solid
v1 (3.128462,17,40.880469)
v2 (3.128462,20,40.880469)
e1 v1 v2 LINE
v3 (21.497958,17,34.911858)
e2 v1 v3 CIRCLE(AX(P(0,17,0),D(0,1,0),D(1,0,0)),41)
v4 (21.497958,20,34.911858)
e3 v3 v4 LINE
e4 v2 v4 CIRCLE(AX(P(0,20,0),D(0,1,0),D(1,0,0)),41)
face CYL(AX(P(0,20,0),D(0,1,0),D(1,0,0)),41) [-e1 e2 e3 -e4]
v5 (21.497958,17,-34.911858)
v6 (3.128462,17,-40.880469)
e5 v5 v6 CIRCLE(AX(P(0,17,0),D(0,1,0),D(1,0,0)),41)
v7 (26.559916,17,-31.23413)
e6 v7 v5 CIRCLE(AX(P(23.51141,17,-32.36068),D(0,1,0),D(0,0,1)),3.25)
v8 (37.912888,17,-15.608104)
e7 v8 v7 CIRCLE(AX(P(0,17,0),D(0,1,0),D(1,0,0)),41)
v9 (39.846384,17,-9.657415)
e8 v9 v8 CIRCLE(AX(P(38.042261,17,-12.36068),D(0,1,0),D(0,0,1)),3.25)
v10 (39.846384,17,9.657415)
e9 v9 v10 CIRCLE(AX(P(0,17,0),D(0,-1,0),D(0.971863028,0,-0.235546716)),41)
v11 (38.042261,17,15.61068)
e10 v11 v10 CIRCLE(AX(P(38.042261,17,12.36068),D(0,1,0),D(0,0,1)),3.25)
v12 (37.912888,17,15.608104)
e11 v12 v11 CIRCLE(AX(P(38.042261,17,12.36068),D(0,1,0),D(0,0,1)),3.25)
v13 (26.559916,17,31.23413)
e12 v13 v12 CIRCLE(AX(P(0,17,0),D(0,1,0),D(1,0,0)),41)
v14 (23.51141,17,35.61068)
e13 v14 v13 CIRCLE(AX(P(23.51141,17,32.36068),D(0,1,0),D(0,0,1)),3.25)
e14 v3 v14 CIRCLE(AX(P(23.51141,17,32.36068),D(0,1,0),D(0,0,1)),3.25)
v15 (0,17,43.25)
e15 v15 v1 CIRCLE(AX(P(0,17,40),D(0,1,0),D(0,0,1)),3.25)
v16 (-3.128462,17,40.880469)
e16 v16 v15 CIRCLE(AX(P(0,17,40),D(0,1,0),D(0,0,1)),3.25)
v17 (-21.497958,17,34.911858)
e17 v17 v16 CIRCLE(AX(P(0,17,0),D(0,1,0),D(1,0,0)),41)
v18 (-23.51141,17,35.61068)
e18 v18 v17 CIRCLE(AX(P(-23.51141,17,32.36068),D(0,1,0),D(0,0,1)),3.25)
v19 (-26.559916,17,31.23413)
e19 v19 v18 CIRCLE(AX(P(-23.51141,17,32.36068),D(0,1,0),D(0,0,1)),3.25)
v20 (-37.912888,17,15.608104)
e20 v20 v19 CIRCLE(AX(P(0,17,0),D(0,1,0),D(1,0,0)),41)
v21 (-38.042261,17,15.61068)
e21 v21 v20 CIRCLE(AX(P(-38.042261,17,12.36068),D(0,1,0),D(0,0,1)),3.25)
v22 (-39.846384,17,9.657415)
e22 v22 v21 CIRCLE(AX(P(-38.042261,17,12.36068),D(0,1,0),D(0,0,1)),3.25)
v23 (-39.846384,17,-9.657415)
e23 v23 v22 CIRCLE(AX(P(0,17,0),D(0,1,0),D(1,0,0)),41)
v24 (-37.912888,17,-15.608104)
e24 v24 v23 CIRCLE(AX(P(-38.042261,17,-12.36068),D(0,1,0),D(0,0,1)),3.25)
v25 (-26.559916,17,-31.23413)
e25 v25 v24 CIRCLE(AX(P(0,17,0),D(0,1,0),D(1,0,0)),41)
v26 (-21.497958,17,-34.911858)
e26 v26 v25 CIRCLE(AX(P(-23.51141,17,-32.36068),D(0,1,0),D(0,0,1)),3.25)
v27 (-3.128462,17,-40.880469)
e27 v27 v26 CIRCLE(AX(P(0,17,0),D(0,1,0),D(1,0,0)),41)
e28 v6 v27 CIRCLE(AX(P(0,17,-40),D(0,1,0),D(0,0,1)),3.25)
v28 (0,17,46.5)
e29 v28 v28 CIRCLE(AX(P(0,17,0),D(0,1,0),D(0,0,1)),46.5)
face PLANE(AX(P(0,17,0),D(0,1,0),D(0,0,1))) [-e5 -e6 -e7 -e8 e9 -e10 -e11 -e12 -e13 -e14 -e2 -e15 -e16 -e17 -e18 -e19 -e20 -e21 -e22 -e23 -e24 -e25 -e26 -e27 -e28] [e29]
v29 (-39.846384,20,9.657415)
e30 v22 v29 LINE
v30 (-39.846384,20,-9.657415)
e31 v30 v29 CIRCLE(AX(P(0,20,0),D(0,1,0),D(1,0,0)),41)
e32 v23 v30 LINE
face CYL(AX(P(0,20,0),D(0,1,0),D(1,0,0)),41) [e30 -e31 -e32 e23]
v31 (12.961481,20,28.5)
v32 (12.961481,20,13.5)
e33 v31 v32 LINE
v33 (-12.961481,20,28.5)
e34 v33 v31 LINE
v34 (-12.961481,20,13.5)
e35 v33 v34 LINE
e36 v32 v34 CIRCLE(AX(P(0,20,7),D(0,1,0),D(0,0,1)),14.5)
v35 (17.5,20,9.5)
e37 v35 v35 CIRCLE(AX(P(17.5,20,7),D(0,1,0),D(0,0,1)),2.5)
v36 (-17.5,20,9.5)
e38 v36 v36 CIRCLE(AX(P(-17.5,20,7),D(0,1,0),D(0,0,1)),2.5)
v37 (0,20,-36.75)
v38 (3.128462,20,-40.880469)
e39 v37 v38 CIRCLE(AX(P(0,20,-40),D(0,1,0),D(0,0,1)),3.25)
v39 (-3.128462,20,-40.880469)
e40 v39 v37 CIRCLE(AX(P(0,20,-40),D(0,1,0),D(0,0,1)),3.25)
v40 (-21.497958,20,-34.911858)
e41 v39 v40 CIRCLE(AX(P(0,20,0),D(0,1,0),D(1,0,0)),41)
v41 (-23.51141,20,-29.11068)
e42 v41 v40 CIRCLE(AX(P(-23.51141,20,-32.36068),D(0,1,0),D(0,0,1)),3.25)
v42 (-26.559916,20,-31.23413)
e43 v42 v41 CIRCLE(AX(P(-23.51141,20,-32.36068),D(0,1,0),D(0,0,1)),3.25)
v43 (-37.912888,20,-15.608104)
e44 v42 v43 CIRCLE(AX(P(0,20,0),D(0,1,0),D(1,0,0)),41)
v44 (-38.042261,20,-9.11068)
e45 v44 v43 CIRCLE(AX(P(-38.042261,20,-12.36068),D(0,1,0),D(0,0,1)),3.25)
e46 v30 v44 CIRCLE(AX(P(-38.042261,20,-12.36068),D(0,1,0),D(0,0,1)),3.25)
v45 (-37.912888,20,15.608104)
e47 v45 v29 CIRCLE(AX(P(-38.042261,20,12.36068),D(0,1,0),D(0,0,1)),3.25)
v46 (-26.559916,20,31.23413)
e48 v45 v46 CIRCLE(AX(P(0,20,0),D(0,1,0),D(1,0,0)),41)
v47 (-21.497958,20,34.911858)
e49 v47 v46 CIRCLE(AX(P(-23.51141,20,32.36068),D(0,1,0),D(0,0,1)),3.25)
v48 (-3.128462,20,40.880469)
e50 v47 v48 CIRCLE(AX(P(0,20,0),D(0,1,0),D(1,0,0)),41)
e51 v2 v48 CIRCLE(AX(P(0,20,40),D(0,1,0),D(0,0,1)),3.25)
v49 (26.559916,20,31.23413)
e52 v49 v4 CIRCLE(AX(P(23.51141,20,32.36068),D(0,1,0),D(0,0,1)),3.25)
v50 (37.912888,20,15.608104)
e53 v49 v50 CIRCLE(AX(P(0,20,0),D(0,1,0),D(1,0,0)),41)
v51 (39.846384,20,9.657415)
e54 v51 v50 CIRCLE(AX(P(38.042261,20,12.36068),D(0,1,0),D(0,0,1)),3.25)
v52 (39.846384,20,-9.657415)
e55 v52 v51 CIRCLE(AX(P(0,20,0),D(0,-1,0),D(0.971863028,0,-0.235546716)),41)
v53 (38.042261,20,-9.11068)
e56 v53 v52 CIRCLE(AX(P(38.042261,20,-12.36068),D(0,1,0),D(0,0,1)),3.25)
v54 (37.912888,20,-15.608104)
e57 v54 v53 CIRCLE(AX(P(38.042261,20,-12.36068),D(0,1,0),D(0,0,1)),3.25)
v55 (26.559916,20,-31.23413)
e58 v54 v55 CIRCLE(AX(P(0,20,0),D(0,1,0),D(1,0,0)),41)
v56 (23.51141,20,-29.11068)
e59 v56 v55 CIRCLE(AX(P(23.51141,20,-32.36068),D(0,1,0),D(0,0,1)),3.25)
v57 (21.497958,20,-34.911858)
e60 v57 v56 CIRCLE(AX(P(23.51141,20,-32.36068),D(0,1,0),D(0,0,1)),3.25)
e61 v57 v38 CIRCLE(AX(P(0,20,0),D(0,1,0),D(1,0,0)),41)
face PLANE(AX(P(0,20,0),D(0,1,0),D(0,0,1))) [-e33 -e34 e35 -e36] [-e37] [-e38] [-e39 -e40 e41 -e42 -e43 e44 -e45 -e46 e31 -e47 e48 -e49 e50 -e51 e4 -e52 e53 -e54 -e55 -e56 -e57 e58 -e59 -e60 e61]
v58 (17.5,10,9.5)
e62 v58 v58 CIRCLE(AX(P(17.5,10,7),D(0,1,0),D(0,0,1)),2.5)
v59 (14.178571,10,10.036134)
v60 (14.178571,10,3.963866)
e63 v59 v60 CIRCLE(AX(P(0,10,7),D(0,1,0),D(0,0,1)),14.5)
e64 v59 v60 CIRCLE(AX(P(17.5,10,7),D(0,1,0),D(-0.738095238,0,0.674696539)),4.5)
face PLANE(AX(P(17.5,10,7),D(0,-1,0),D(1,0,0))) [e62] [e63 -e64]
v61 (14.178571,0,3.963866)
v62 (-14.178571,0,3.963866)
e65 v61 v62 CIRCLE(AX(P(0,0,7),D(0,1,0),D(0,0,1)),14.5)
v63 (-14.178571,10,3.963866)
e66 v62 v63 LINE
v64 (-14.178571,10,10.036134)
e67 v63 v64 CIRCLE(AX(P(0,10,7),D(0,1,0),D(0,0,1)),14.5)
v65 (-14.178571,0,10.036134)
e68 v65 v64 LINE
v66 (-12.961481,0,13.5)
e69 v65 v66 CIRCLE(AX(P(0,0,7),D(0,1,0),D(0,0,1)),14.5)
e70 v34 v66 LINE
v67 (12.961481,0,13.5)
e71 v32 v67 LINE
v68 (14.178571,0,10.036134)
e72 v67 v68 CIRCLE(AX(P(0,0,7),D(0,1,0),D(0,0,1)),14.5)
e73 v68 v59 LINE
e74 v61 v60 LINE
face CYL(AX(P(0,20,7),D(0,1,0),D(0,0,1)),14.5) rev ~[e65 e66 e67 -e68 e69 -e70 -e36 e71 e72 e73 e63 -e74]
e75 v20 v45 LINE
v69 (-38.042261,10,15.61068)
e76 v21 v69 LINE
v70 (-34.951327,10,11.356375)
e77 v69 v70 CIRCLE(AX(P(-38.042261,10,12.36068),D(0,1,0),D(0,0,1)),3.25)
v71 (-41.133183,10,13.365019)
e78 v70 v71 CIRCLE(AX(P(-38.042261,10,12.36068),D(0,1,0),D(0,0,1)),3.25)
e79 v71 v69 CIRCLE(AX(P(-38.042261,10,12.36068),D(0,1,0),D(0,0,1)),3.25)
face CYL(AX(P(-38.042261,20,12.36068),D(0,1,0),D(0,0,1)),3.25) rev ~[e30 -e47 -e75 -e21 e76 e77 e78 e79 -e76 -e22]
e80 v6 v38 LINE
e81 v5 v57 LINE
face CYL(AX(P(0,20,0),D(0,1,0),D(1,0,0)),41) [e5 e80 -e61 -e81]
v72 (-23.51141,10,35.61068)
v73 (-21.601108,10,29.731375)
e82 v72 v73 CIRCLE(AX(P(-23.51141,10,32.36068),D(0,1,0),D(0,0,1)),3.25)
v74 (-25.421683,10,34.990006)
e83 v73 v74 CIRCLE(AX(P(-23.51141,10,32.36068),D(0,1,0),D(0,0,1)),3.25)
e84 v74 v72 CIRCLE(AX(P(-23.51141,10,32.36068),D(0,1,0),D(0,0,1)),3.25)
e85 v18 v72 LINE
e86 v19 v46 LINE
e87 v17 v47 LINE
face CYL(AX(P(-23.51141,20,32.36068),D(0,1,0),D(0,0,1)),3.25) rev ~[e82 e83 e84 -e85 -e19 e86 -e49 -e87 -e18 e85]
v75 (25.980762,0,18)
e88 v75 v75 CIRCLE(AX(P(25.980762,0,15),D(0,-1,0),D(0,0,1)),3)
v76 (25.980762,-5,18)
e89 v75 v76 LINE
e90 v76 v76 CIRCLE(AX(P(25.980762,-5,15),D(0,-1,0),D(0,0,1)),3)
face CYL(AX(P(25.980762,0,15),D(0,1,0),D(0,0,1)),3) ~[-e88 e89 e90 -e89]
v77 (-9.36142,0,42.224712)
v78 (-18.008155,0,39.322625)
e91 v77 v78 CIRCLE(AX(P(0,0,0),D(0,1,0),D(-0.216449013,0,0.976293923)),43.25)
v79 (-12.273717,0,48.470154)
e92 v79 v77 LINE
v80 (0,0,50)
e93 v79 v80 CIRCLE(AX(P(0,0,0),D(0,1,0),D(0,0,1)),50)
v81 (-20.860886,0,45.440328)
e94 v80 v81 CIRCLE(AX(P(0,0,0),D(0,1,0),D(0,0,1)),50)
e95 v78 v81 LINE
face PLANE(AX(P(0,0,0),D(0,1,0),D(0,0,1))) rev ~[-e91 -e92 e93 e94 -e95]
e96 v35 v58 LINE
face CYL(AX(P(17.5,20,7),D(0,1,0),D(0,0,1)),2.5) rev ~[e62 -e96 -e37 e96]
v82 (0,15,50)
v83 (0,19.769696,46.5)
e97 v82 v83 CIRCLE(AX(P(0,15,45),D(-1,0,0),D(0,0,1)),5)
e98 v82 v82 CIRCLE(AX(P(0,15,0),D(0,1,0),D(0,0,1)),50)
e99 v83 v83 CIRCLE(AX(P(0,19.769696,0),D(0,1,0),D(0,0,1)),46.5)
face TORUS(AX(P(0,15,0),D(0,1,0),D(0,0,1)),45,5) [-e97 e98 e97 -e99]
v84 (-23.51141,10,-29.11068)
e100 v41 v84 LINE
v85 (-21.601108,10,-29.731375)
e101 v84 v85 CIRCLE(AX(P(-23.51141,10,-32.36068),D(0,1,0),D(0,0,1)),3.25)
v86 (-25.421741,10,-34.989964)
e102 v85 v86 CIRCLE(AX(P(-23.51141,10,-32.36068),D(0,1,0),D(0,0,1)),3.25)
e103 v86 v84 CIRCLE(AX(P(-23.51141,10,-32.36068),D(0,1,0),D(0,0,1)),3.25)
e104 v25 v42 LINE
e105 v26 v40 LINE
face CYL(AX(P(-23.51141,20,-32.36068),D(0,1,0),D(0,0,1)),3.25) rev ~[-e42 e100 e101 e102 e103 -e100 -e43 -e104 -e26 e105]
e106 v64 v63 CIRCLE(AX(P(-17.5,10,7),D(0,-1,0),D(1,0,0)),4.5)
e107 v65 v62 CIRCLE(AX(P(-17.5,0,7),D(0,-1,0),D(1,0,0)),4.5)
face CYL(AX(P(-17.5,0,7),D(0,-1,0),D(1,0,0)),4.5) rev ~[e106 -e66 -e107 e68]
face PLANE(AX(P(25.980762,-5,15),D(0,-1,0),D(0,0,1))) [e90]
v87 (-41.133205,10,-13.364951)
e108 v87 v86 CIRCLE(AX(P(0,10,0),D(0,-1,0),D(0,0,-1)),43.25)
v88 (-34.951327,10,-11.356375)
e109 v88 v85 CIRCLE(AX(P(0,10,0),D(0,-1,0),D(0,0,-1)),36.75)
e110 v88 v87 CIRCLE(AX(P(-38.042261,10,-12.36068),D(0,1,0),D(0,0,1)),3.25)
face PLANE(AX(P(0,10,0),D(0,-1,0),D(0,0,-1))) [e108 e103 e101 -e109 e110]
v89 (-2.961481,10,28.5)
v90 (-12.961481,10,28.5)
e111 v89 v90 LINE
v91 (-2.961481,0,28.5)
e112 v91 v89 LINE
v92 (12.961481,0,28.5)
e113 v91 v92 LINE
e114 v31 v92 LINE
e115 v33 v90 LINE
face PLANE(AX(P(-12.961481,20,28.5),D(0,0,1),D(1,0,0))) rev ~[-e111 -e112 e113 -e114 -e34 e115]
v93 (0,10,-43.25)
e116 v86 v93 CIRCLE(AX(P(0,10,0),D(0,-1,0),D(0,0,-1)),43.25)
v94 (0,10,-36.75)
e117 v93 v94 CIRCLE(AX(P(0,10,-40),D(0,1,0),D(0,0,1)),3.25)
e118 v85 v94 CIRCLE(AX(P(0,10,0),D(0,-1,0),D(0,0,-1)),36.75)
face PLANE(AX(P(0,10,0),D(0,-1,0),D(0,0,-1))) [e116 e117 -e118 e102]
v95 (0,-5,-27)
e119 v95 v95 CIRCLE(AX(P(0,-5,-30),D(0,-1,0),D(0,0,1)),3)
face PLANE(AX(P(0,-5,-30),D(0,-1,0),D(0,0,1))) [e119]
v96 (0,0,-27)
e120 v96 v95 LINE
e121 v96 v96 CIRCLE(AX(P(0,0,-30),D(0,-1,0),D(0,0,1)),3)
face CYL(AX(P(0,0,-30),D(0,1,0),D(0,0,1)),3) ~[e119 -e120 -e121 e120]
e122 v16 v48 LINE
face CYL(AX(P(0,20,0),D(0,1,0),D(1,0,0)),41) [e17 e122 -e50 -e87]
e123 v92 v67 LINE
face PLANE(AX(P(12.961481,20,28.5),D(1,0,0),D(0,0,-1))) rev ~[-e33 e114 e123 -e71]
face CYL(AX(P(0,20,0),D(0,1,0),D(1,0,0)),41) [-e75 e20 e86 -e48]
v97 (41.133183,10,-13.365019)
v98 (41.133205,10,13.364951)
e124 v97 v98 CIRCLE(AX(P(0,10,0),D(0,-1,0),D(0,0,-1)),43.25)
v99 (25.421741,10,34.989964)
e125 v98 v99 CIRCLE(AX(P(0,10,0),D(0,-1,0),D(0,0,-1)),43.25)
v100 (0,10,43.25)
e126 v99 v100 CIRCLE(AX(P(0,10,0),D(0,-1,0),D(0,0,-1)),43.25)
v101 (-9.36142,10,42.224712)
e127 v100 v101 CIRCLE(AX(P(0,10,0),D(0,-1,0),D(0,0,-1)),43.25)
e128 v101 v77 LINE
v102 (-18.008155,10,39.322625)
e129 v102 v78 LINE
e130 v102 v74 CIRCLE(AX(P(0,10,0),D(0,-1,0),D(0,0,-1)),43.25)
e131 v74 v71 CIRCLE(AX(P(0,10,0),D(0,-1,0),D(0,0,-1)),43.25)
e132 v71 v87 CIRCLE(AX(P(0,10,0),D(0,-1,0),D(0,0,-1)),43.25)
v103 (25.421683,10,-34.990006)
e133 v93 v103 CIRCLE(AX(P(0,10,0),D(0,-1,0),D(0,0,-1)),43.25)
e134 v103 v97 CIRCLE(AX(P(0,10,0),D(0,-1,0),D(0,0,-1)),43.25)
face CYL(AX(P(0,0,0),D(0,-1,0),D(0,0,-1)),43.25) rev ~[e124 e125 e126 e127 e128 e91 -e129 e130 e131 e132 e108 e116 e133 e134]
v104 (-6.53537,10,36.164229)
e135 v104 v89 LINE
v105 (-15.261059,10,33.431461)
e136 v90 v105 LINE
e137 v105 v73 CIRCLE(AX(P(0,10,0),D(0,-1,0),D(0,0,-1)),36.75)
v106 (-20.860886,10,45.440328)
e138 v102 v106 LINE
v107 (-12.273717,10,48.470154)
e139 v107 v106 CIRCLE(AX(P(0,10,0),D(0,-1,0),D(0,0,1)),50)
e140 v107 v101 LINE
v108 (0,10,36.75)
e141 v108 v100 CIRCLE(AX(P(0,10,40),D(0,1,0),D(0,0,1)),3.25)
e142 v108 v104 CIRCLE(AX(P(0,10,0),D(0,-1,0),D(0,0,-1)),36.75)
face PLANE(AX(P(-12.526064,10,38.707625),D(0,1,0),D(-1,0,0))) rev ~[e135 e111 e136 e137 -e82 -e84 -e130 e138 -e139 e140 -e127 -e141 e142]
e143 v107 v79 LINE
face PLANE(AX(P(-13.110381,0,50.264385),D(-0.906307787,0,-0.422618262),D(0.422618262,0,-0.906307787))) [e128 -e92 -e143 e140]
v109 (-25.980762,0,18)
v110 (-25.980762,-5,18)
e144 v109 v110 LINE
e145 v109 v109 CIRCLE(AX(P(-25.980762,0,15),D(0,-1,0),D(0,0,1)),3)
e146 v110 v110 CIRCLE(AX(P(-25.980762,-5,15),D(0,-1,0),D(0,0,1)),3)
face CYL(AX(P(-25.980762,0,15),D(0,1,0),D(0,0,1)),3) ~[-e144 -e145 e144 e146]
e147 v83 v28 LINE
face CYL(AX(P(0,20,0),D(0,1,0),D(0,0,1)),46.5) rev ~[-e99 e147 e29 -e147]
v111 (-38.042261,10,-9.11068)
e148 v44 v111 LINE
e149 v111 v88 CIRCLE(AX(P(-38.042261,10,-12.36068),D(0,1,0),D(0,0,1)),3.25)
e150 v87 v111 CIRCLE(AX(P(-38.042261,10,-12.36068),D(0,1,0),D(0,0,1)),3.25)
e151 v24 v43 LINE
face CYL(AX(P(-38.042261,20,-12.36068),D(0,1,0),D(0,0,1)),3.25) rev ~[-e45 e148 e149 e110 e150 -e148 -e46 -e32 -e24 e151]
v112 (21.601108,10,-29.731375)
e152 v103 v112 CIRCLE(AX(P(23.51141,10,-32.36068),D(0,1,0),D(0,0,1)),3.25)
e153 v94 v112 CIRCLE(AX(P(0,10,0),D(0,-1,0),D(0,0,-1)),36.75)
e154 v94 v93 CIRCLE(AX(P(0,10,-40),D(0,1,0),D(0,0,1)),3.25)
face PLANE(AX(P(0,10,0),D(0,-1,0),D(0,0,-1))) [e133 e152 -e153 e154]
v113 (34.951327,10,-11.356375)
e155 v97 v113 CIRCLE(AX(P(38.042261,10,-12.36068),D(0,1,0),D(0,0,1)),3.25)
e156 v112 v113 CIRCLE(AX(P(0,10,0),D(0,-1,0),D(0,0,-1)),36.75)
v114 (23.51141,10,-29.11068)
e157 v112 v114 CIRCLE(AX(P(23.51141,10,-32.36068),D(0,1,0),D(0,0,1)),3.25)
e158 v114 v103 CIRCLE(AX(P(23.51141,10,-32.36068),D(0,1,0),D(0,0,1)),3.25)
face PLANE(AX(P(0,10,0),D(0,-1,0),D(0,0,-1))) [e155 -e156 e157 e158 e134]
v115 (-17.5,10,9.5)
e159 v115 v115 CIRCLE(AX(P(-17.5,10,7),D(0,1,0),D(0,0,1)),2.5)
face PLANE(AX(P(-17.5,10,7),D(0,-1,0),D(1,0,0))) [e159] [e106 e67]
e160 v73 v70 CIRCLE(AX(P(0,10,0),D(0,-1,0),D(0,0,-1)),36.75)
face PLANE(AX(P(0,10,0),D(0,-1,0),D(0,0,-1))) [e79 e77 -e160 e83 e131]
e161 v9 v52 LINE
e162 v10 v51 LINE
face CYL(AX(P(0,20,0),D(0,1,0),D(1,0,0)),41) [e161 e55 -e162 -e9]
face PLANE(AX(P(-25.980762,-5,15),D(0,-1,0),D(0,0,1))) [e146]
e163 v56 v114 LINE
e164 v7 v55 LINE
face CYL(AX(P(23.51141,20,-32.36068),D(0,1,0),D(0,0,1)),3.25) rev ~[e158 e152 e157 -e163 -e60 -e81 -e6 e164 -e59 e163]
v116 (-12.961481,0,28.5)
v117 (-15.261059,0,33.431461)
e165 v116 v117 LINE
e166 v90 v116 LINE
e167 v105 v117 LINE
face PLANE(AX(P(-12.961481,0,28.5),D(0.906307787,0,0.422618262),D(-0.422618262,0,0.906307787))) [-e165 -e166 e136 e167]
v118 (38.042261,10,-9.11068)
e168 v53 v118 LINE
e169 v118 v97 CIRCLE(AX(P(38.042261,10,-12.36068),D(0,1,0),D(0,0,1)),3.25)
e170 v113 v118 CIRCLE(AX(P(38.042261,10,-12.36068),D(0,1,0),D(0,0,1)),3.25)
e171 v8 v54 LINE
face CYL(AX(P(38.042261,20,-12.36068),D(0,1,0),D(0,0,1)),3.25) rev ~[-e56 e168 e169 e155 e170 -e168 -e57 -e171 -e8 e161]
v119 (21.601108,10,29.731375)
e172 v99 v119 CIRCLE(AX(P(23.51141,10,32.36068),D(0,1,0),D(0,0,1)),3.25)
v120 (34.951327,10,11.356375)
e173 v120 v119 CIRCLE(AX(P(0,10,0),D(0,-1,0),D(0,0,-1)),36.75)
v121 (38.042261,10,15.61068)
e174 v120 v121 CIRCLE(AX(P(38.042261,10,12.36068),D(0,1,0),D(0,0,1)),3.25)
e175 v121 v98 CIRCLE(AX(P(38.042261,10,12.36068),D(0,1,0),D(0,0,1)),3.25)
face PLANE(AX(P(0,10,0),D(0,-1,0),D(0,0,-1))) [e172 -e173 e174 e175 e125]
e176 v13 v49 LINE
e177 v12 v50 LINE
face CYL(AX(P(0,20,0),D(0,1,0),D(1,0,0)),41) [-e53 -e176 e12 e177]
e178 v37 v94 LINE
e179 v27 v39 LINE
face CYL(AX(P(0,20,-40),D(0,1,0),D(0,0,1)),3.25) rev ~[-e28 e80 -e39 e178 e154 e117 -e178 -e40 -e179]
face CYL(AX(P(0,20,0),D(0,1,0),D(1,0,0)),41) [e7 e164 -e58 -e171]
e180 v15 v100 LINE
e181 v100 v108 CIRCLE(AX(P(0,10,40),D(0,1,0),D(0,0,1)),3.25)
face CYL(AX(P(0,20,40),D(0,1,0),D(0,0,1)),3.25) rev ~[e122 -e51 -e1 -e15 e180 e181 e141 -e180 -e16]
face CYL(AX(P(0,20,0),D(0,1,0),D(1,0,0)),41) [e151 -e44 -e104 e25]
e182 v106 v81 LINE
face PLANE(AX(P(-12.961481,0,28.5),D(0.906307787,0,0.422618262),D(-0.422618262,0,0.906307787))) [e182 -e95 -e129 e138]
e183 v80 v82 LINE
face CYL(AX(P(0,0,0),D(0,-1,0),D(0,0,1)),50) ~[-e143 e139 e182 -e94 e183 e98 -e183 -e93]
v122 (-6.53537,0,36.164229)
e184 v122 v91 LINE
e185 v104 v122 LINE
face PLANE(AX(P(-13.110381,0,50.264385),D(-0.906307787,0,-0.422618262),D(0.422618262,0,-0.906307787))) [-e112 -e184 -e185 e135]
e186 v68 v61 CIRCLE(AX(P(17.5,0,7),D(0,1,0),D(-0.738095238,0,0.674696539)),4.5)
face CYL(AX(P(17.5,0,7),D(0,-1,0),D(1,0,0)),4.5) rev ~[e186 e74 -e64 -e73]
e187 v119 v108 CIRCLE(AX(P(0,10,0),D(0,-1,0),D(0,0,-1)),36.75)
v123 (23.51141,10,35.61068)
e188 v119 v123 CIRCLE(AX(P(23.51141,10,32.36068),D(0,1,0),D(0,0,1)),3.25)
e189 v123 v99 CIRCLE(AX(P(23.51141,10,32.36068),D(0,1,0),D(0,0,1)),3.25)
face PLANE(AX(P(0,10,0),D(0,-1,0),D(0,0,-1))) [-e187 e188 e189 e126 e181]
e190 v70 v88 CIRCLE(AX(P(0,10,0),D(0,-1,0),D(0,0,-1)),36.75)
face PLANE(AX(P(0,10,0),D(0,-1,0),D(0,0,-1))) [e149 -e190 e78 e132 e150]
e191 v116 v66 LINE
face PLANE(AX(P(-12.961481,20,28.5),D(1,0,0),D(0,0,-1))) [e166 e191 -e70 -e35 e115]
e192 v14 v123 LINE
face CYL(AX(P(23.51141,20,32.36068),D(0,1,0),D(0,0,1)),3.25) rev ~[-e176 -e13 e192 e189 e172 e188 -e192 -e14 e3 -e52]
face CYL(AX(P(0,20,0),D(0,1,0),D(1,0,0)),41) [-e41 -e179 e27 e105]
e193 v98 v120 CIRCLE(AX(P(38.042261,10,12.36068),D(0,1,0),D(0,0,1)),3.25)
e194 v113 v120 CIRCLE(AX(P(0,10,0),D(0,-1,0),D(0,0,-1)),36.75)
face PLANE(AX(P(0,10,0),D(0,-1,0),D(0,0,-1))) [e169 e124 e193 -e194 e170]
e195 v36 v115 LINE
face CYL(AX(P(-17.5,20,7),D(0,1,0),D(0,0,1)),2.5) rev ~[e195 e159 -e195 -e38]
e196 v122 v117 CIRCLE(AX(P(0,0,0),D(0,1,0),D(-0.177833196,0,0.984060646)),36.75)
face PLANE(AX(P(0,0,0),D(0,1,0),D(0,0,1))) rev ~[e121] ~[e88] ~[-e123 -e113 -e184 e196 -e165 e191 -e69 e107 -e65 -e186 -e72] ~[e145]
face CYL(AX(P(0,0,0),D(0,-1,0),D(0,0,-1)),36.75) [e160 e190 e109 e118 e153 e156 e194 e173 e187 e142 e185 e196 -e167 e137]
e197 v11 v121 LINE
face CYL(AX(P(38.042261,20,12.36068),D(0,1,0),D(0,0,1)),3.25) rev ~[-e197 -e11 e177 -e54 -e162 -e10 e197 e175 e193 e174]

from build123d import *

# Parameters (mm, degrees)
SKETCH_1_R          = 50
EXTRUDE_1_DEPTH     = 20
FILLET_1_R          = 5
SKETCH_2_R          = 14.5
CUT_EXTRUDE_1_DEPTH = 20
SKETCH_3_R          = 2.5
SKETCH_3_W          = 25.922962794
SKETCH_3_H          = 15
CUT_EXTRUDE_2_DEPTH = 20
SKETCH_4_R          = 3.25
CUT_EXTRUDE_3_DEPTH = 74.484692352
SKETCH_5_R          = 43.25
SKETCH_5_R_2        = 36.75
CUT_EXTRUDE_4_DEPTH = 10
SKETCH_7_R          = 46.5
SKETCH_7_R_2        = 41
CUT_EXTRUDE_5_DEPTH = 3
CUT_EXTRUDE_6_DEPTH = 10
SKETCH_9_R          = 4.5
CUT_EXTRUDE_7_DEPTH = 10
SKETCH_10_R         = 3
EXTRUDE_2_DEPTH     = 5


with BuildPart() as part:
    # 草图1 → 凸台-拉伸1 (new body)
    with BuildSketch(Plane(origin=(0, 0, 0), x_dir=(1, 0, 0), z_dir=(0, 1, 0))):
        with Locations(Location((0, 0, 0), (0, 0, 270))):
            Circle(SKETCH_1_R)
    extrude(amount=EXTRUDE_1_DEPTH)

    # 圆角1
    fillet_1_edges = [part.edges().sort_by_distance(p)[0] for p in [
        (0, 20, -50),
    ]]
    fillet(fillet_1_edges, radius=FILLET_1_R)

    # 草图2 → 切除-拉伸1 (cut)
    with BuildSketch(Plane(origin=(0, 20, 0), x_dir=(1, 0, 0), z_dir=(0, 1, 0))):
        with Locations(Location((0, -7, 0), (0, 0, 270))):
            Circle(SKETCH_2_R)
    extrude(amount=-CUT_EXTRUDE_1_DEPTH, mode=Mode.SUBTRACT)

    # 草图3 → 切除-拉伸2 (cut)
    with BuildSketch(Plane(origin=(0, 20, 0), x_dir=(1, 0, 0), z_dir=(0, 1, 0))):
        with Locations(Location((-17.5, -7, 0), (0, 0, 270))):
            Circle(SKETCH_3_R)
        with Locations(Location((17.5, -7, 0), (0, 0, 270))):
            Circle(SKETCH_3_R)
        with Locations((0, -21)):
            Rectangle(SKETCH_3_W, SKETCH_3_H)
    extrude(amount=-CUT_EXTRUDE_2_DEPTH, mode=Mode.SUBTRACT)

    # 草图4 → 切除-拉伸3 (cut, through all)
    with BuildSketch(Plane(origin=(0, 20, 0), x_dir=(1, 0, 0), z_dir=(0, 1, 0))):
        with Locations(Location((0, 40, 0), (0, 0, 270))):
            Circle(SKETCH_4_R)
        with Locations(Location((23.511410092, 32.360679775, 0), (0, 0, 270))):
            Circle(SKETCH_4_R)
        with Locations(Location((38.042260652, 12.360679775, 0), (0, 0, 270))):
            Circle(SKETCH_4_R)
        with Locations(Location((38.042260652, -12.360679775, 0), (0, 0, 270))):
            Circle(SKETCH_4_R)
        with Locations(Location((23.511410092, -32.360679775, 0), (0, 0, 270))):
            Circle(SKETCH_4_R)
        with Locations(Location((0, -40, 0), (0, 0, 270))):
            Circle(SKETCH_4_R)
        with Locations(Location((-23.511410092, -32.360679775, 0), (0, 0, 270))):
            Circle(SKETCH_4_R)
        with Locations(Location((-38.042260652, -12.360679775, 0), (0, 0, 270))):
            Circle(SKETCH_4_R)
        with Locations(Location((-38.042260652, 12.360679775, 0), (0, 0, 270))):
            Circle(SKETCH_4_R)
        with Locations(Location((-23.511410092, 32.360679775, 0), (0, 0, 270))):
            Circle(SKETCH_4_R)
    extrude(amount=-CUT_EXTRUDE_3_DEPTH, mode=Mode.SUBTRACT)

    # 草图5 → 切除-拉伸4 (cut)
    with BuildSketch(Plane.XZ):
        with Locations(Location((0, 0, 0), (0, 0, 270))):
            Circle(SKETCH_5_R)
        with Locations(Location((0, 0, 0), (0, 0, 270))):
            Circle(SKETCH_5_R_2, mode=Mode.SUBTRACT)
    extrude(amount=-CUT_EXTRUDE_4_DEPTH, mode=Mode.SUBTRACT)

    # 草图7 → 切除-拉伸5 (cut)
    with BuildSketch(Plane(origin=(0, 20, 0), x_dir=(1, 0, 0), z_dir=(0, 1, 0))):
        with Locations(Location((0, 0, 0), (0, 0, 270))):
            Circle(SKETCH_7_R)
        Circle(SKETCH_7_R_2, mode=Mode.SUBTRACT)
    extrude(amount=-CUT_EXTRUDE_5_DEPTH, mode=Mode.SUBTRACT)

    # 草图8 → 切除-拉伸6 (cut)
    with BuildSketch(Plane.XZ):
        Polygon((-12.961481397, 28.5), (-22.041936512, 47.973098835), (-13.11038068, 50.264384749), (-2.961481397, 28.5), align=None)
    extrude(amount=-CUT_EXTRUDE_6_DEPTH, mode=Mode.SUBTRACT)

    # 草图9 → 切除-拉伸7 (cut)
    with BuildSketch(Plane.XZ):
        with Locations((-17.5, 7)):
            Circle(SKETCH_9_R)
        with Locations((17.5, 7)):
            Circle(SKETCH_9_R)
    extrude(amount=-CUT_EXTRUDE_7_DEPTH, mode=Mode.SUBTRACT)

    # 草图10 → 凸台-拉伸2 (add)
    with BuildSketch(Plane.XZ):
        with Locations(Location((0, -30, 0), (0, 0, 90))):
            Circle(SKETCH_10_R)
        with Locations(Location((-25.980762114, 15, 0), (0, 0, 90))):
            Circle(SKETCH_10_R)
        with Locations(Location((25.980762114, 15, 0), (0, 0, 90))):
            Circle(SKETCH_10_R)
    extrude(amount=EXTRUDE_2_DEPTH)


solid = part.part
